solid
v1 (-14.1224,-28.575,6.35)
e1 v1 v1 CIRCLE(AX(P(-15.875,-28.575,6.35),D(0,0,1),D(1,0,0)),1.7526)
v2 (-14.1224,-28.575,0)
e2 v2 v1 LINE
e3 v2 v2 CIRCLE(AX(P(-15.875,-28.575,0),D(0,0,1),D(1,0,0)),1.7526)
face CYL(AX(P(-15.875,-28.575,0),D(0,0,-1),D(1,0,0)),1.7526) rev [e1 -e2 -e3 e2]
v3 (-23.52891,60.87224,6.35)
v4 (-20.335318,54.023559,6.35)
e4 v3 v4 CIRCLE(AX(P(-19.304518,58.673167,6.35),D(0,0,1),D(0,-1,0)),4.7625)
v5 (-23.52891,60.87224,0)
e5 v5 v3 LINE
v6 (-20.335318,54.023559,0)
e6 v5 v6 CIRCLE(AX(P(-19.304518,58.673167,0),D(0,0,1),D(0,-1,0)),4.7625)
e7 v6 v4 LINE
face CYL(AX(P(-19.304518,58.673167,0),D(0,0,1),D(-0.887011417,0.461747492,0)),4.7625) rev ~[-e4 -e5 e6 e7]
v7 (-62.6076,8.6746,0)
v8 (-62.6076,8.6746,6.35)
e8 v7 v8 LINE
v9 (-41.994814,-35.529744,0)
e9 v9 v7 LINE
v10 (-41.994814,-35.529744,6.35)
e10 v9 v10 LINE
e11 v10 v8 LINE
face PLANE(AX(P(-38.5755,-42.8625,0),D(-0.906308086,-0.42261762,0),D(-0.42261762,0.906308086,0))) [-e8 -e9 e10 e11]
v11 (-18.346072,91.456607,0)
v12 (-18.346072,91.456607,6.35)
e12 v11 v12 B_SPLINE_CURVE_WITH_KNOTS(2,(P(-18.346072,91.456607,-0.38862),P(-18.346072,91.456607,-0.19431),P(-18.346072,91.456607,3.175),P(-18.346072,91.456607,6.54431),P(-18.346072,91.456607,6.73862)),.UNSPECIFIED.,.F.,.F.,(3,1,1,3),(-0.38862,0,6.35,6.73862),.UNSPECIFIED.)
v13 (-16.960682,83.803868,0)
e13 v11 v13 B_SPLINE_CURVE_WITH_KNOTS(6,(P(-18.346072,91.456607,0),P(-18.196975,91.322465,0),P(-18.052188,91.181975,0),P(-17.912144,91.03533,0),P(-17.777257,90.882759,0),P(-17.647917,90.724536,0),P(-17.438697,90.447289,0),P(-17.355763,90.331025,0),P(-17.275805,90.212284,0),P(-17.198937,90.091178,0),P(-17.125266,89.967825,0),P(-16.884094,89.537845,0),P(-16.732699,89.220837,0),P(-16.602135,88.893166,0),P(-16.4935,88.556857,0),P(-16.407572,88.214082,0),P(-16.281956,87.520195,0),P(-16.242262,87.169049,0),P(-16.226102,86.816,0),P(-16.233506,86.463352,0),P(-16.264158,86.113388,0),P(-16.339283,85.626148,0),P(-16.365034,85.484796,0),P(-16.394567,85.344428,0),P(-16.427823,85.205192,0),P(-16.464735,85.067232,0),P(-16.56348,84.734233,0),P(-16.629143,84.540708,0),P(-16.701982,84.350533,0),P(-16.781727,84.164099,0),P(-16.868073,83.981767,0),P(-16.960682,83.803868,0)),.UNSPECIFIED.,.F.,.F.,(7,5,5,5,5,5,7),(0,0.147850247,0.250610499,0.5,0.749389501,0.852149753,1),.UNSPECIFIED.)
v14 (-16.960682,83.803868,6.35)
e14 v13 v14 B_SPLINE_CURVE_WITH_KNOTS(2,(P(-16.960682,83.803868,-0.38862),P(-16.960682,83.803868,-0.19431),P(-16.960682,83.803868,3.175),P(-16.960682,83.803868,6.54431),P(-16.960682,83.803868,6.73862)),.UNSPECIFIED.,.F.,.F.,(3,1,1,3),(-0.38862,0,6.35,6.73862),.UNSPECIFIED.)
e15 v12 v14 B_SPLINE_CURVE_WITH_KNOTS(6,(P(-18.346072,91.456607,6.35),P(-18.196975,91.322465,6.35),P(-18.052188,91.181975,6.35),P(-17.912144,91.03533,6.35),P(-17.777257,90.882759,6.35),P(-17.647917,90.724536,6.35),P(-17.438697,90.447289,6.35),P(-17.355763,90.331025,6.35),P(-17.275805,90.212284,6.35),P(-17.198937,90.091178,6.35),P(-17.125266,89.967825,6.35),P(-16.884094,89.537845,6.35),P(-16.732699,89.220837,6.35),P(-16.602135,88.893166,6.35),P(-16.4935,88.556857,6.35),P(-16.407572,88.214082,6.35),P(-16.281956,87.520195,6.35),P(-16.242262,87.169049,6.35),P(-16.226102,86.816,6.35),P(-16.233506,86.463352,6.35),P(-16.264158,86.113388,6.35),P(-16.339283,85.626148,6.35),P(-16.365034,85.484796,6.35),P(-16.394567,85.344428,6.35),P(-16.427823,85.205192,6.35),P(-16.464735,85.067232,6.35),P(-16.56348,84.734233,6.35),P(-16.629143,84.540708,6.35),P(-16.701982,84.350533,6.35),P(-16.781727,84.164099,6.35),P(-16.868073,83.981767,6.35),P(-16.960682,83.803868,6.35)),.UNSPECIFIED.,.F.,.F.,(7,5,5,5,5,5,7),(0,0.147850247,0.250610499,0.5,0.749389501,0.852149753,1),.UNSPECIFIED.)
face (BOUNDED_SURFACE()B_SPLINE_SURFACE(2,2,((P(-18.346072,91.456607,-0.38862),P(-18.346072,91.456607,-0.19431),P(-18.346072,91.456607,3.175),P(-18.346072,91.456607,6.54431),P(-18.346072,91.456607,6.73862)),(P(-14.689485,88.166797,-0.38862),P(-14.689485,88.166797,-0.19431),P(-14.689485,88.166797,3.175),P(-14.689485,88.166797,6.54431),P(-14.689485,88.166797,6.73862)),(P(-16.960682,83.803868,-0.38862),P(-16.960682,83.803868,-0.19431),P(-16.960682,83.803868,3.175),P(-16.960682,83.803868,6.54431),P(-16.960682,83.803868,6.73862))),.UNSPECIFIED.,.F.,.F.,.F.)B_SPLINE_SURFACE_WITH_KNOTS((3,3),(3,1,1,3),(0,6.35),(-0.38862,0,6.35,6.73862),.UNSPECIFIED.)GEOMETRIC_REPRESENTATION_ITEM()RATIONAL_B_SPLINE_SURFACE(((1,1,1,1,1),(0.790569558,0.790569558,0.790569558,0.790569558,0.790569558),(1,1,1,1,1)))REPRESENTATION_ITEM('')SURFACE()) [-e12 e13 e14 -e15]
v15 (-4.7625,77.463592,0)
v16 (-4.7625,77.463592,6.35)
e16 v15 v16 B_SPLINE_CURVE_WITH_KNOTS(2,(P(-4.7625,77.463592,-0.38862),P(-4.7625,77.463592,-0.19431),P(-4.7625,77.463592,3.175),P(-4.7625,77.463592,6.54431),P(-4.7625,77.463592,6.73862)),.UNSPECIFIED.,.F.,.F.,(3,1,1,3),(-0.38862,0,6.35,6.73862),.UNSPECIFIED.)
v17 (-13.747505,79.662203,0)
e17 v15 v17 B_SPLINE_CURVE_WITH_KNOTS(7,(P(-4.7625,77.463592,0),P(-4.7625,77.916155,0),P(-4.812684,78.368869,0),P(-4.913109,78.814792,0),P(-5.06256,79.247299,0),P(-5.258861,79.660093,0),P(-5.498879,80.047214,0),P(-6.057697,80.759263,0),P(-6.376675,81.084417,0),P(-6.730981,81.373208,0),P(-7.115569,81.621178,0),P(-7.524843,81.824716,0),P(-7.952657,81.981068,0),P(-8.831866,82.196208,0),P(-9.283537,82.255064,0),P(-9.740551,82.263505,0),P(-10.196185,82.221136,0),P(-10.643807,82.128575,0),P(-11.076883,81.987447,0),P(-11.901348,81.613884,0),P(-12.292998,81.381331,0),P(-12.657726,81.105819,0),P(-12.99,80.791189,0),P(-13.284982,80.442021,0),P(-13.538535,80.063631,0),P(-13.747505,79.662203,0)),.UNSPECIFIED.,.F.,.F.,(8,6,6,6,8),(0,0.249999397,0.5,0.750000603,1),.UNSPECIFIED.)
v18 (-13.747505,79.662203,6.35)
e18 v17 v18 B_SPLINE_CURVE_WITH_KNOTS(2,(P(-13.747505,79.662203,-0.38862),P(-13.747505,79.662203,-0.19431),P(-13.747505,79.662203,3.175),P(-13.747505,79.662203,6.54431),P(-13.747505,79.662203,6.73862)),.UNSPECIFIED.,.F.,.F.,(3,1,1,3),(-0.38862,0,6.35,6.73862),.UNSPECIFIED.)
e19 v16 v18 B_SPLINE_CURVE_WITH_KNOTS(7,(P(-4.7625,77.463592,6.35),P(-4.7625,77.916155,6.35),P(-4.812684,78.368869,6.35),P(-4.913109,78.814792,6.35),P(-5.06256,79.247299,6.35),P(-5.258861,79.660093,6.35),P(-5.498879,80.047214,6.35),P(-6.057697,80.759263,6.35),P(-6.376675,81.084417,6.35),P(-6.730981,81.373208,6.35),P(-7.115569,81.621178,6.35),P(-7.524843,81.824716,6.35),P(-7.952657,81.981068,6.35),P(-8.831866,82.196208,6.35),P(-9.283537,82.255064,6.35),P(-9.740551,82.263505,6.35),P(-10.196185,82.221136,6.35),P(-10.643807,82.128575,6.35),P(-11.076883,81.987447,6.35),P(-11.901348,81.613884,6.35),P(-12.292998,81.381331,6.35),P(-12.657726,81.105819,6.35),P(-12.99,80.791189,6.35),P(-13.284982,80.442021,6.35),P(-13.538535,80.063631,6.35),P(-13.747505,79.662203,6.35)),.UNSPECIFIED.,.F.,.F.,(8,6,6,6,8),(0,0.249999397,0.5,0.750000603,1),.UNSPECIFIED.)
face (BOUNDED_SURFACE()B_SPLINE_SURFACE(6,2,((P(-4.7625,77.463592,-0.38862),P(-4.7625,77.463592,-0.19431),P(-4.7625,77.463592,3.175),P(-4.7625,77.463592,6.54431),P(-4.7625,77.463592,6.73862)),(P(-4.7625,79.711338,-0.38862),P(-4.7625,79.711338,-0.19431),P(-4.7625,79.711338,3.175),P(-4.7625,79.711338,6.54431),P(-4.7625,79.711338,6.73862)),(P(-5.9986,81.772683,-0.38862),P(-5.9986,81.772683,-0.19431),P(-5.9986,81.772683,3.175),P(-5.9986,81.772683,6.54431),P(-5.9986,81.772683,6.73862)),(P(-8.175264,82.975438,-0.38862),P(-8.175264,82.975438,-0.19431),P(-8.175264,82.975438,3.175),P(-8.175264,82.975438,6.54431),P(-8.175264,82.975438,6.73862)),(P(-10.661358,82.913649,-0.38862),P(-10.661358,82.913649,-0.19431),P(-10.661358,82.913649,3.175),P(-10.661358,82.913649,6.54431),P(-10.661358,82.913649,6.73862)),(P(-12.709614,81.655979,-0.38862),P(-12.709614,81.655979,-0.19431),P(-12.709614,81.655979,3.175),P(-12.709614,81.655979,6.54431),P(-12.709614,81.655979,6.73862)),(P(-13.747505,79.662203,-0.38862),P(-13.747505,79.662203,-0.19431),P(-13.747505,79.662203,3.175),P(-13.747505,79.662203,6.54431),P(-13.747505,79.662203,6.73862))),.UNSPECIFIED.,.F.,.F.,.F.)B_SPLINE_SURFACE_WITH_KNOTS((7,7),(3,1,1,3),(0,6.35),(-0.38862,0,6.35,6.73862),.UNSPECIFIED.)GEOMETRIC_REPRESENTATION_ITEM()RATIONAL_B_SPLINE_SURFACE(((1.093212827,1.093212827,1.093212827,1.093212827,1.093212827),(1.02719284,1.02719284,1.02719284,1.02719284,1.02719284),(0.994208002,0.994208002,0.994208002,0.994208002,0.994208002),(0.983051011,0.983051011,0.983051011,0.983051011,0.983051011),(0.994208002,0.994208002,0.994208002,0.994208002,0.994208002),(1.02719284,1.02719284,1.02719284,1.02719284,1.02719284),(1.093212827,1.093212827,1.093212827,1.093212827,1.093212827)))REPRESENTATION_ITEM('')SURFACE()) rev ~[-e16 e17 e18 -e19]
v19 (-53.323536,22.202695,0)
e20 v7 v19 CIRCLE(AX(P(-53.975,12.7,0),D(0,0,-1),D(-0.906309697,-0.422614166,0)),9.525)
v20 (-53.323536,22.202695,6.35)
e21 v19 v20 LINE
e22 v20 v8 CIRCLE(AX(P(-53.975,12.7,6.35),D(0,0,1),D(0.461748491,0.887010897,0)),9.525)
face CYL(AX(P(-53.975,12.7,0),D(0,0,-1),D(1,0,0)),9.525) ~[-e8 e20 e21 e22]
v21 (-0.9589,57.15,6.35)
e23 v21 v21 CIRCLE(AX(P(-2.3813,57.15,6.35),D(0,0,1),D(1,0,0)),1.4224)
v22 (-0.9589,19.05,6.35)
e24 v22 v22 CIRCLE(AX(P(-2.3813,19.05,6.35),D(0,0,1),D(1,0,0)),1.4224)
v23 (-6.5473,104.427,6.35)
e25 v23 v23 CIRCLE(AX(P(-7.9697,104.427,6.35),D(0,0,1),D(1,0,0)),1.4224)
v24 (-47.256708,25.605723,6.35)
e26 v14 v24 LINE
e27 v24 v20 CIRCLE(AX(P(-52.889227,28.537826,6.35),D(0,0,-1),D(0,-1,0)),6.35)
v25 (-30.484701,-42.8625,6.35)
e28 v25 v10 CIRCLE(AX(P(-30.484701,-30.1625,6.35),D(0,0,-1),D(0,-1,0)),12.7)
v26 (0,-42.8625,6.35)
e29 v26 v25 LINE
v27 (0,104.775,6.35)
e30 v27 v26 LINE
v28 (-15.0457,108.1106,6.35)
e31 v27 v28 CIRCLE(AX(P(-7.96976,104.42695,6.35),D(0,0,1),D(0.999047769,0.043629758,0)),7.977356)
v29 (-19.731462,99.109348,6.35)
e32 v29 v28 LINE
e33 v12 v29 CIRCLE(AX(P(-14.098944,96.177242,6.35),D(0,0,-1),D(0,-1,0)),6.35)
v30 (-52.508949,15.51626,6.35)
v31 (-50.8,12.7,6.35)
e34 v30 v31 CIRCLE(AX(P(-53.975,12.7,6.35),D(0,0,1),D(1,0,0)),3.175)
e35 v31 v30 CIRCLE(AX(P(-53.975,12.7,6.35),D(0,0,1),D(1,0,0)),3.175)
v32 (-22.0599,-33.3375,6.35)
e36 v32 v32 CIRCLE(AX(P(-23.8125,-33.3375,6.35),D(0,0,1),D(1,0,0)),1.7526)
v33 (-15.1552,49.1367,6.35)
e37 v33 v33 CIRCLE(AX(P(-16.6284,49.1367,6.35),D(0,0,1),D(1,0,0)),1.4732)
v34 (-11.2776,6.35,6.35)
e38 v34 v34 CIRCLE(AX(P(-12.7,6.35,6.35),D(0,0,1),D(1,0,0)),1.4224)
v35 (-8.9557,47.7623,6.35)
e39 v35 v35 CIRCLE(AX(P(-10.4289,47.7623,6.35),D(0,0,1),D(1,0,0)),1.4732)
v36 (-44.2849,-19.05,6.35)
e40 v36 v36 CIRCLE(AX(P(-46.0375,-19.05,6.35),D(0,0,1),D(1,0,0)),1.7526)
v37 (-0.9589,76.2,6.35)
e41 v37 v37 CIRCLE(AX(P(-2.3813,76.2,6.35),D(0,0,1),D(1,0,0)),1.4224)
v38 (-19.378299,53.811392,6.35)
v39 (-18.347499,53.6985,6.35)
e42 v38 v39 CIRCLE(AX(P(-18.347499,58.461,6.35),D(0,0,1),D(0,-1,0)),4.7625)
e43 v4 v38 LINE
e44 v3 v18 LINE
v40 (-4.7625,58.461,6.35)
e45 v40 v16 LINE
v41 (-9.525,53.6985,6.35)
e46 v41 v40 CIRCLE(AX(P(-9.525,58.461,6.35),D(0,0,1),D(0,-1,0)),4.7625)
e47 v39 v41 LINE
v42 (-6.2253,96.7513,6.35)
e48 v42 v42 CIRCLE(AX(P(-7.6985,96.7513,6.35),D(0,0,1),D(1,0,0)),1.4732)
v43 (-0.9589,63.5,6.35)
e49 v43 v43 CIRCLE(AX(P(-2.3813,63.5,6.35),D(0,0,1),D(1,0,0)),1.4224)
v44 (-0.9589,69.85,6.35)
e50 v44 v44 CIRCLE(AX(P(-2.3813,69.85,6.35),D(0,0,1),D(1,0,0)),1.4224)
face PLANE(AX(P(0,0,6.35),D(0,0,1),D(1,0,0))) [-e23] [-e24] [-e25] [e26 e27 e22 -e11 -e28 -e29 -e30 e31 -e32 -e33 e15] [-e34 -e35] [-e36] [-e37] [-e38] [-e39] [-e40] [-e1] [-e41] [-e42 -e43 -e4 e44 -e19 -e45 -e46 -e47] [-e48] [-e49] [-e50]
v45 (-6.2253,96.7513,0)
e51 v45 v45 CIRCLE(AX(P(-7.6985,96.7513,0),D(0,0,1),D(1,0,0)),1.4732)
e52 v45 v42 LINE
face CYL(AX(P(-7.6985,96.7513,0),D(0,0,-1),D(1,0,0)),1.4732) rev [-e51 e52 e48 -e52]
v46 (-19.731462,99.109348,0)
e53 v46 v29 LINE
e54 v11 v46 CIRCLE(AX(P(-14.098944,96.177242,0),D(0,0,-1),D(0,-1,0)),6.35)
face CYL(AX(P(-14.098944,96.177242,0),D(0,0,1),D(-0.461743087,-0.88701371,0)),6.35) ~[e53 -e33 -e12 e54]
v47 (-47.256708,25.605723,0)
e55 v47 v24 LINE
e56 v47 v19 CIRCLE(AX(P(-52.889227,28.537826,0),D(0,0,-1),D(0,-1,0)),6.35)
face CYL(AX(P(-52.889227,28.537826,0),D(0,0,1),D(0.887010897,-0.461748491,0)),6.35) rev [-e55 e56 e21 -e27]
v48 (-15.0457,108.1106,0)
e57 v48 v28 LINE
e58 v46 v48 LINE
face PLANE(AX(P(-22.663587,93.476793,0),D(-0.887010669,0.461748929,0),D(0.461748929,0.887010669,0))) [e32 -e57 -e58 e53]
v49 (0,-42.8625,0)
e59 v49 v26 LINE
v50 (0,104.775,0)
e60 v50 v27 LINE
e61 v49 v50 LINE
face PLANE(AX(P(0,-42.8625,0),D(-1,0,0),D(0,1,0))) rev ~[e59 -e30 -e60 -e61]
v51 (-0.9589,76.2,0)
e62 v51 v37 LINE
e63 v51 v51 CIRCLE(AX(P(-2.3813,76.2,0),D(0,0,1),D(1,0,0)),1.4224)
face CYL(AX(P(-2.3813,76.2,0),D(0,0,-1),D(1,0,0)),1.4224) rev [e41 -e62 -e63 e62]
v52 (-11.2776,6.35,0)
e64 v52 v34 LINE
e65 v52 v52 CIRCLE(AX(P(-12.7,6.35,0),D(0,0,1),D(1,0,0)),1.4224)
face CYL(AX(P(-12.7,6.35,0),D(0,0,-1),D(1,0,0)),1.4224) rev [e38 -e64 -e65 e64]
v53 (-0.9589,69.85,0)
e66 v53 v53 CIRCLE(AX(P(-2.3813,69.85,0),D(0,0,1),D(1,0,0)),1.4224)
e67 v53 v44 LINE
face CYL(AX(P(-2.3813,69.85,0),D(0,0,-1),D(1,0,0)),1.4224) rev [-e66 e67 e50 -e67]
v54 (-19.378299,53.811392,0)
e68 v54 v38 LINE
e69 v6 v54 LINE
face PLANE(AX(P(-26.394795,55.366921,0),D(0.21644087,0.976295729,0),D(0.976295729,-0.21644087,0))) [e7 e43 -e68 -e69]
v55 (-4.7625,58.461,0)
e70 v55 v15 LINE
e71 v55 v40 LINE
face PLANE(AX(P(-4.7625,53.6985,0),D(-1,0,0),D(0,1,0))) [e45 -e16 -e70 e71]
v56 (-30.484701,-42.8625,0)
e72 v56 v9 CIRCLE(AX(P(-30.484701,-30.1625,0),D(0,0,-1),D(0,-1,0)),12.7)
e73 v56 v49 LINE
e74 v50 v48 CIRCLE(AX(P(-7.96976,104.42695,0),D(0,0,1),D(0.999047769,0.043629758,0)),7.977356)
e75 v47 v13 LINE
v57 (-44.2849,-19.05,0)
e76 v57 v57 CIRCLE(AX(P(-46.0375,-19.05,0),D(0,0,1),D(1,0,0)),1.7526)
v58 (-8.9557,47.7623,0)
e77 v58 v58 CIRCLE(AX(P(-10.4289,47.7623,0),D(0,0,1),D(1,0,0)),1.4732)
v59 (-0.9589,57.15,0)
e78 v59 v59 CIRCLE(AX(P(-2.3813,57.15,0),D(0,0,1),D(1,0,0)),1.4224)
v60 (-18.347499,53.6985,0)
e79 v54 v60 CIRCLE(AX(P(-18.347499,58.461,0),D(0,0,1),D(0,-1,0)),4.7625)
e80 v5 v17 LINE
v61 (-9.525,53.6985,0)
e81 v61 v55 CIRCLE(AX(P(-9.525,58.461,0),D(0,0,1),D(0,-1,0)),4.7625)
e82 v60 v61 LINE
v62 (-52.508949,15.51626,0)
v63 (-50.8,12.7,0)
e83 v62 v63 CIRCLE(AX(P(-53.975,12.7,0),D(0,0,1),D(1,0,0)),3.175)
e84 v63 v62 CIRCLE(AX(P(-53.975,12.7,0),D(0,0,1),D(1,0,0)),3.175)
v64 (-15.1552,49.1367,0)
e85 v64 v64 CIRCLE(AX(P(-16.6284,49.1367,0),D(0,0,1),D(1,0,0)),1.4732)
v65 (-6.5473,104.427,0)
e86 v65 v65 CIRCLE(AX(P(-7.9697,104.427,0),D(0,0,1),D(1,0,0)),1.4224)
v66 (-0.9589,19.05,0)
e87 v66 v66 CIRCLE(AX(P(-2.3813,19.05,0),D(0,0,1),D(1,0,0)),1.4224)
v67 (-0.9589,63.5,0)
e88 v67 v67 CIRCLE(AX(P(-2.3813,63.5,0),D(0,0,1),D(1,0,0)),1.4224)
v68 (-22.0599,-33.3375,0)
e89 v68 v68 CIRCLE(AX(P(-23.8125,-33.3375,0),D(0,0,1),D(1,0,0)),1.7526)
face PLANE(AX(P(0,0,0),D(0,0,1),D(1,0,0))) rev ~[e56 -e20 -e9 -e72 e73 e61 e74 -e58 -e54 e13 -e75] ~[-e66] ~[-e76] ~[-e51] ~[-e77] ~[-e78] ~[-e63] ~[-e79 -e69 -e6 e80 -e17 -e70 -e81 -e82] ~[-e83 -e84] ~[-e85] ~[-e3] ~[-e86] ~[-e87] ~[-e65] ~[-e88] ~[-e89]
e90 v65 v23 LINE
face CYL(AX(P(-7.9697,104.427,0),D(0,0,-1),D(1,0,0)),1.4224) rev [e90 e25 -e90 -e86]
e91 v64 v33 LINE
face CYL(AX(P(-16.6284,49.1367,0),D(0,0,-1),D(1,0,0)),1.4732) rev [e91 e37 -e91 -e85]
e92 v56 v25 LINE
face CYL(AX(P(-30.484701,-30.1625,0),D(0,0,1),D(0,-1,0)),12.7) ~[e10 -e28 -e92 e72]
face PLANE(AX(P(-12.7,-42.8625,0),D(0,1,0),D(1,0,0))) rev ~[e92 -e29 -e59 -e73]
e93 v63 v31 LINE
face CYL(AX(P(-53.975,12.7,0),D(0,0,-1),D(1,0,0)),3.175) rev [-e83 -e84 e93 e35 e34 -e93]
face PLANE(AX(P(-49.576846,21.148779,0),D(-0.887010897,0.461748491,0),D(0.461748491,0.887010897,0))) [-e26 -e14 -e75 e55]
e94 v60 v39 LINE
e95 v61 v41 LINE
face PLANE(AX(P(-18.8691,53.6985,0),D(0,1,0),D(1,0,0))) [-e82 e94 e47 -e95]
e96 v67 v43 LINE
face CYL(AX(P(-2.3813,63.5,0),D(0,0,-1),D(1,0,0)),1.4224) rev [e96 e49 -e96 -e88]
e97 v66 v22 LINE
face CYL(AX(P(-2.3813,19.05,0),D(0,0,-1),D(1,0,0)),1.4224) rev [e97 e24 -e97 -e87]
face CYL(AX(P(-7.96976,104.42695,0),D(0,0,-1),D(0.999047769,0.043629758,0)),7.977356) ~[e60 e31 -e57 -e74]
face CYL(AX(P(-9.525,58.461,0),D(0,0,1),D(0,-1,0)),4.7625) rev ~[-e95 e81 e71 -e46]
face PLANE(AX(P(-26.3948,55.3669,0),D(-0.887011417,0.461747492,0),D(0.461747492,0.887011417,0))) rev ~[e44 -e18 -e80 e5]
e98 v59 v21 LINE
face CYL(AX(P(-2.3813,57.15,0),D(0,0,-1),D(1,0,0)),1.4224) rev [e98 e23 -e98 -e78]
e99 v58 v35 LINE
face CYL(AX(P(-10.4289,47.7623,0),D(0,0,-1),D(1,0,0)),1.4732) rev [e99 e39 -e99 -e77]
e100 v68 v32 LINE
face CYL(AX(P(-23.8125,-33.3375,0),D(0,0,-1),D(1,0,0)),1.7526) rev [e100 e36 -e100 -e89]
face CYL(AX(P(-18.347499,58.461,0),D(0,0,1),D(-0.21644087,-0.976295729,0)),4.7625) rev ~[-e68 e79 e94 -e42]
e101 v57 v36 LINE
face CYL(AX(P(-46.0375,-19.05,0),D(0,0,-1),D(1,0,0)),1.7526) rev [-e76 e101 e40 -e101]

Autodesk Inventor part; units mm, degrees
ref_plane "YZ Plane" through (0, 0, 0) normal (1, 0, 0) x (0, 1, 0)
ref_plane "XZ Plane" through (0, 0, 0) normal (0, 1, 0) x (-1, 0, 0)
ref_plane "XY Plane" through (0, 0, 0) normal (0, 0, 1) x (1, 0, 0)
sketch "Sketch1" plane through (0, 0, 0) normal (0, 0, 1) x (1, 0, 0)
  line L0 (0, 0) -> (0, 137.0131)
  line L1 (-11.7886, 12.2907) -> (-39.6863, 18.4755) construction
  line L2 (-39.6863, 18.4755) -> (-33.3297, 47.1481) construction
  line L3 (-33.3297, 47.1481) -> (-5.432, 40.9633) construction
  line L4 (-5.432, 40.9633) -> (-11.7886, 12.2907) construction
  line L5 (-39.6863, 18.4755) -> (-5.432, 40.9633) construction
  line L6 (-33.3297, 47.1481) -> (-11.7886, 12.2907) construction
  circle A0 centre (-53.975, 12.7) radius 3.175
  circle A1 centre (-53.975, 12.7) radius 9.525
  line L7 (0, 0) -> (-54.5315, 3.1913) construction
  line L8 (-62.4238, 17.0982) -> (0, 137.0131)
  line L9 (-27.1302, 45.7737) -> (-37.4529, 28.5497) construction
  line L10 (-11.6315, 42.3377) -> (-9.5552, 22.3649) construction
  line L11 (-19.3809, 44.0557) -> (-25.7374, 15.3831) construction
  line L12 (0, 104.775) -> (-15.0457, 108.1106)
  line L13 (-35.3766, 8.5768) -> (-19.8779, 5.1408) construction
  line L14 (-19.8779, 5.1408) -> (-21.2523, -1.0586) construction
  line L15 (-21.2523, -1.0586) -> (-36.751, 2.3773) construction
  line L16 (-36.751, 2.3773) -> (-35.3766, 8.5768) construction
  line L17 (-35.3766, 8.5768) -> (-44.7305, 2.6177) construction
  line L18 (-19.8779, 5.1408) -> (-17.2457, 1.0092) construction
  line L19 (-5.432, 40.9633) -> (-33.3297, 47.1481) construction
  line L20 (-33.3297, 47.1481) -> (-32.2475, 52.0296) construction
  line L21 (-32.2475, 52.0296) -> (-4.3498, 45.8448) construction
  line L22 (-4.3498, 45.8448) -> (-5.432, 40.9633) construction
  line L23 (-53.2878, 15.7997) -> (-53.975, 12.7) construction
  line L24 (-53.975, 12.7) -> (-57.0747, 13.3872) construction
  line L25 (-27.6272, 6.8588) -> (-34.4992, -24.1386) construction
  line L26 (-31.8676, 50.076) -> (-5.5198, 44.2349) construction
  line L27 (-5.5198, 44.2349) -> (-4.489, 48.8845) construction
  line L28 (-4.489, 48.8845) -> (-30.8368, 54.7256) construction
  line L29 (-30.8368, 54.7256) -> (-31.8676, 50.076) construction
  line L30 (-31.3522, 52.4008) -> (-5.0044, 46.5597) construction
  circle A2 centre (-29.0274, 51.8854) radius 1.4732 construction
  circle A3 centre (-22.8279, 50.5111) radius 1.4732 construction
  circle A4 centre (-16.6284, 49.1367) radius 1.4732
  circle A5 centre (-10.4289, 47.7623) radius 1.4732
  circle A6 centre (-7.6985, 96.7513) radius 1.4732
  line L31 (-53.975, 12.7) -> (-5.4185, 105.9762)
  line L32 (-31.2085, 56.4341) -> (0, 49.5153)
  circle A7 centre (-7.6985, 96.7513) radius 4.7625
  line L33 (-4.7625, 50.5712) -> (-4.7625, 105.8308)
  line L34 (-26.3948, 55.3669) -> (-7.323, 92.0036)
  line L35 (-3.5958, 94.3328) -> (-4.7625, 94.5914) construction
  line L36 (-17.2457, 1.0092) -> (0, 1.0092) construction
  line L37 (0, 1.0092) -> (0, -2.1658) construction
  line L38 (0, -2.1658) -> (-17.2457, -2.1658) construction
  line L39 (-17.2457, -2.1658) -> (-17.2457, 1.0092) construction
  circle A8 centre (-12.7, 7.9375) radius 1.5875 construction
  line L40 (-12.7, 7.9375) -> (0, 7.9375) construction
  line L41 (0, 7.9375) -> (-17.2457, 1.0092)
  circle A9 centre (-12.7, 7.9375) radius 3.175 construction
  line L42 (-9.525, 7.9375) -> (-9.525, 4.111) construction
  line L43 (-9.525, 7.9375) -> (0, 7.9375) construction
  line L44 (-17.9187, 46.9837) -> (-16.8879, 51.6333) construction
  line L45 (-12.4942, 45.7811) -> (-26.2381, -16.2137) construction
  line L46 (0, 53.6985) -> (0, 7.9375) construction
  line L47 (-26.2381, -16.2137) -> (-20.0386, -17.5881) construction
  line L48 (-20.0386, -17.5881) -> (-8.7313, 7.9375)
  circle A10 centre (-12.7, 6.35) radius 1.4224
  line L49 (0, 13.4938) -> (-4.7625, 13.4938) construction
  line L50 (-4.7625, 13.4938) -> (-4.7625, 24.6063) construction
  line L51 (-4.7625, 24.6063) -> (0, 24.6063) construction
  line L52 (0, 24.6063) -> (0, 13.4938) construction
  line L53 (-4.7625, 19.05) -> (0, 19.05) construction
  circle A11 centre (-2.3813, 19.05) radius 1.4224
  line L54 (-20.7405, 8.5842) -> (-9.7454, 58.18) construction
  line L55 (-9.7454, 58.18) -> (-3.5459, 56.8056) construction
  line L56 (-3.5459, 56.8056) -> (-14.5411, 7.2098) construction
  line L57 (-14.5411, 7.2098) -> (-20.7405, 8.5842) construction
  line L58 (-12.7, 6.35) -> (-12.7, 7.9375) construction
  line L59 (-11.5442, 1.5875) -> (-9.525, 1.5875) construction
  line L60 (-9.525, 1.5875) -> (-9.525, 7.9375) construction
  line L61 (-9.525, 7.9375) -> (-11.5442, 7.9375) construction
  line L62 (-11.5442, 7.9375) -> (-11.5442, 1.5875) construction
  line L63 (-9.7454, 58.18) -> (-15.9449, 59.5544) construction
  line L64 (-18.8691, 53.6985) -> (0, 53.6985)
  line L65 (-9.7454, 58.18) -> (-17.3193, 53.3549) construction
  arc A12 (-10.2313, 55.9882) -> (-11.9373, 58.6659) centre (-11.0843, 57.3271) ccw construction
  line L66 (-4.7625, 57.15) -> (0, 57.15) construction
  circle A13 centre (-2.3813, 57.15) radius 1.4224
  circle A14 centre (-2.3813, 63.5) radius 1.4224
  line L67 (0, 7.9375) -> (-38.5755, 7.9375) construction
  line L68 (-38.5755, 7.9375) -> (-38.5755, -42.8625) construction
  line L69 (-38.5755, -42.8625) -> (0, -42.8625)
  line L70 (0, -42.8625) -> (0, 7.9375)
  line L71 (-38.5755, -42.8625) -> (-62.6076, 8.6746)
  line L72 (-60.0032, 20.0747) -> (-18.8691, 53.6985)
  line L73 (-20.0386, -17.5881) -> (-20.0386, -42.8625) construction
  line L74 (-20.2435, 47.4991) -> (-19.2127, 52.1487) construction
  line L75 (-12.7, -42.8625) -> (-12.7, -1.0217)
  circle A15 centre (-23.8125, -33.3375) radius 1.7526
  circle A16 centre (-15.875, -28.575) radius 1.7526
  circle A17 centre (-23.8125, -33.3375) radius 3.175 construction
  circle A18 centre (-2.3813, 69.85) radius 1.4224
  circle A19 centre (-2.3813, 76.2) radius 1.4224
  circle A20 centre (-15.875, -28.575) radius 3.175 construction
  circle A21 centre (-46.0375, -19.05) radius 1.7526
  arc A22 (0, 104.775) -> (-15.0457, 108.1106) centre (-7.9697, 104.427) ccw
  circle A23 centre (-7.9697, 104.427) radius 1.4224
  line L76 (-7.9697, 104.427) -> (-15.0457, 108.1106) construction
  line L77 (-7.9697, 104.427) -> (0, 104.775) construction
  line L78 (-14.2148, 89.0787) -> (-22.6636, 93.4768)
  point P0 (-22.5591, 29.7194)
  point P1 (-20.7484, 1.2142)
  point P2 (-36.3367, 4.2458)
  point P3 (-49.5768, 21.1488)
  point P4 (-11.1125, 7.9375)
  point P5 (-11.4283, 6.9872)
  point P6 (-11.9574, 7.9375)
  point P7 (-13.9717, 6.9872)
  point P8 (-9.525, 6.1457)
  point P9 (-10.6215, 3.6705)
  point P10 (-4.7625, 93.0015)
  point P11 (-4.7625, 53.6985)
  dimension "d74" = 6.35
  dimension "d14" = 29.3687
  dimension "d15" = 28.575
  dimension "d16" = 12.5
  dimension "d17" = 6.35
  dimension "d19" = 53.975
  dimension "d22" = 19.05
  dimension "d23" = 7.9375
  dimension "d24" = 19.05
  dimension "d26" = 102.5
  dimension "d29" = 6.35
  dimension "d31" = 7.9375
  dimension "d34" = 5
  dimension "d35" = 26.9875
  dimension "d38" = 31.75
  dimension "d40" = 26.9875
  dimension "d41" = 4.7625
  dimension "d42" = 2.9464
  dimension "d43" = 2.3813
  dimension "d46" = 6.35
  dimension "d51" = 2.9464
  dimension "d52" = 92.075
  dimension "d53" = 6.35
  dimension "d54" = 9.525
  dimension "d55" = 4.7625
  dimension "d56" = 4.7625
  dimension "d60" = 12.7
  dimension "d61" = 3.175
  dimension "d63" = 3.175
  dimension "d66" = 3.175
  dimension "d67" = 12.7
  dimension "d72" = 8.7312
  dimension "d73" = 7.9375
  dimension "d80" = 12.7
  dimension "d82" = 7.9375
  dimension "d83" = 63.5
  dimension "d85" = 6.35
  dimension "d86" = 104.775
  dimension "d87" = 2.8448
  dimension "d88" = 4.7625
  dimension "d89" = 11.1125
  dimension "d90" = 2.8448
  dimension "d91" = 19.05
  dimension "d92" = 6.35
  dimension "d93" = 50.8
  dimension "d94" = 25.4
  dimension "d95" = 8.7312
  dimension "d96" = 9.525
  dimension "d97" = 6.35
  dimension "d99" = 6.35
  dimension "d101" = 3.175
  dimension "d106" = 2.8448
  dimension "d107" = 57.15
  dimension "d110" = 6.35
  dimension "d136" = 3.175
  dimension "d138" = 42.8625
  dimension "d139" = 12.7
  dimension "d140" = 3.5052
  dimension "d141" = 3.5052
  dimension "d142" = 9.525
  dimension "d143" = 3.175
  dimension "d144" = 11.1125
  dimension "d145" = 6.35
  dimension "d146" = 14.2875
  dimension "d149" = 6.35
extrude "Extrusion1" add sketch "Sketch1" along normal blind 6.35 contours L70 L69 L75 L48 L41 L0 | L41 L48 L75 L69 L71 A1 L31 L72 L32 L0 | L32 L33 L64 L0 | L64 L33 A7 L12 L0 | L32 L64 L33 | L12 A22 | L72 L31 L32 | A1 | L33 A7 L31 L12 | L12 L31 A7 L78 L8 | L33 A7 | A7 L31 L33 | L32 L31 A7 L34 | L31 A7
fillet "Fillet6" radius 12.7 1 edges at (-38.5755, -42.8625, 3.175)
fillet "Fillet7" radius 6.35 3 edges at (-22.6636, 93.4768, 3.175) (-14.2148, 89.0787, 3.175) (-49.5768, 21.1488, 3.175)
fillet "Fillet8" radius 4.7625 5 edges at (-4.7625, 93.0015, 3.175) (-7.323, 92.0036, 3.175) (-26.3948, 55.3669, 3.175) (-18.8691, 53.6985, 3.175) (-4.7625, 53.6985, 3.175)
equation "\"d56\" = d55"
properties part number "Uprights" material "UHMW, White"
